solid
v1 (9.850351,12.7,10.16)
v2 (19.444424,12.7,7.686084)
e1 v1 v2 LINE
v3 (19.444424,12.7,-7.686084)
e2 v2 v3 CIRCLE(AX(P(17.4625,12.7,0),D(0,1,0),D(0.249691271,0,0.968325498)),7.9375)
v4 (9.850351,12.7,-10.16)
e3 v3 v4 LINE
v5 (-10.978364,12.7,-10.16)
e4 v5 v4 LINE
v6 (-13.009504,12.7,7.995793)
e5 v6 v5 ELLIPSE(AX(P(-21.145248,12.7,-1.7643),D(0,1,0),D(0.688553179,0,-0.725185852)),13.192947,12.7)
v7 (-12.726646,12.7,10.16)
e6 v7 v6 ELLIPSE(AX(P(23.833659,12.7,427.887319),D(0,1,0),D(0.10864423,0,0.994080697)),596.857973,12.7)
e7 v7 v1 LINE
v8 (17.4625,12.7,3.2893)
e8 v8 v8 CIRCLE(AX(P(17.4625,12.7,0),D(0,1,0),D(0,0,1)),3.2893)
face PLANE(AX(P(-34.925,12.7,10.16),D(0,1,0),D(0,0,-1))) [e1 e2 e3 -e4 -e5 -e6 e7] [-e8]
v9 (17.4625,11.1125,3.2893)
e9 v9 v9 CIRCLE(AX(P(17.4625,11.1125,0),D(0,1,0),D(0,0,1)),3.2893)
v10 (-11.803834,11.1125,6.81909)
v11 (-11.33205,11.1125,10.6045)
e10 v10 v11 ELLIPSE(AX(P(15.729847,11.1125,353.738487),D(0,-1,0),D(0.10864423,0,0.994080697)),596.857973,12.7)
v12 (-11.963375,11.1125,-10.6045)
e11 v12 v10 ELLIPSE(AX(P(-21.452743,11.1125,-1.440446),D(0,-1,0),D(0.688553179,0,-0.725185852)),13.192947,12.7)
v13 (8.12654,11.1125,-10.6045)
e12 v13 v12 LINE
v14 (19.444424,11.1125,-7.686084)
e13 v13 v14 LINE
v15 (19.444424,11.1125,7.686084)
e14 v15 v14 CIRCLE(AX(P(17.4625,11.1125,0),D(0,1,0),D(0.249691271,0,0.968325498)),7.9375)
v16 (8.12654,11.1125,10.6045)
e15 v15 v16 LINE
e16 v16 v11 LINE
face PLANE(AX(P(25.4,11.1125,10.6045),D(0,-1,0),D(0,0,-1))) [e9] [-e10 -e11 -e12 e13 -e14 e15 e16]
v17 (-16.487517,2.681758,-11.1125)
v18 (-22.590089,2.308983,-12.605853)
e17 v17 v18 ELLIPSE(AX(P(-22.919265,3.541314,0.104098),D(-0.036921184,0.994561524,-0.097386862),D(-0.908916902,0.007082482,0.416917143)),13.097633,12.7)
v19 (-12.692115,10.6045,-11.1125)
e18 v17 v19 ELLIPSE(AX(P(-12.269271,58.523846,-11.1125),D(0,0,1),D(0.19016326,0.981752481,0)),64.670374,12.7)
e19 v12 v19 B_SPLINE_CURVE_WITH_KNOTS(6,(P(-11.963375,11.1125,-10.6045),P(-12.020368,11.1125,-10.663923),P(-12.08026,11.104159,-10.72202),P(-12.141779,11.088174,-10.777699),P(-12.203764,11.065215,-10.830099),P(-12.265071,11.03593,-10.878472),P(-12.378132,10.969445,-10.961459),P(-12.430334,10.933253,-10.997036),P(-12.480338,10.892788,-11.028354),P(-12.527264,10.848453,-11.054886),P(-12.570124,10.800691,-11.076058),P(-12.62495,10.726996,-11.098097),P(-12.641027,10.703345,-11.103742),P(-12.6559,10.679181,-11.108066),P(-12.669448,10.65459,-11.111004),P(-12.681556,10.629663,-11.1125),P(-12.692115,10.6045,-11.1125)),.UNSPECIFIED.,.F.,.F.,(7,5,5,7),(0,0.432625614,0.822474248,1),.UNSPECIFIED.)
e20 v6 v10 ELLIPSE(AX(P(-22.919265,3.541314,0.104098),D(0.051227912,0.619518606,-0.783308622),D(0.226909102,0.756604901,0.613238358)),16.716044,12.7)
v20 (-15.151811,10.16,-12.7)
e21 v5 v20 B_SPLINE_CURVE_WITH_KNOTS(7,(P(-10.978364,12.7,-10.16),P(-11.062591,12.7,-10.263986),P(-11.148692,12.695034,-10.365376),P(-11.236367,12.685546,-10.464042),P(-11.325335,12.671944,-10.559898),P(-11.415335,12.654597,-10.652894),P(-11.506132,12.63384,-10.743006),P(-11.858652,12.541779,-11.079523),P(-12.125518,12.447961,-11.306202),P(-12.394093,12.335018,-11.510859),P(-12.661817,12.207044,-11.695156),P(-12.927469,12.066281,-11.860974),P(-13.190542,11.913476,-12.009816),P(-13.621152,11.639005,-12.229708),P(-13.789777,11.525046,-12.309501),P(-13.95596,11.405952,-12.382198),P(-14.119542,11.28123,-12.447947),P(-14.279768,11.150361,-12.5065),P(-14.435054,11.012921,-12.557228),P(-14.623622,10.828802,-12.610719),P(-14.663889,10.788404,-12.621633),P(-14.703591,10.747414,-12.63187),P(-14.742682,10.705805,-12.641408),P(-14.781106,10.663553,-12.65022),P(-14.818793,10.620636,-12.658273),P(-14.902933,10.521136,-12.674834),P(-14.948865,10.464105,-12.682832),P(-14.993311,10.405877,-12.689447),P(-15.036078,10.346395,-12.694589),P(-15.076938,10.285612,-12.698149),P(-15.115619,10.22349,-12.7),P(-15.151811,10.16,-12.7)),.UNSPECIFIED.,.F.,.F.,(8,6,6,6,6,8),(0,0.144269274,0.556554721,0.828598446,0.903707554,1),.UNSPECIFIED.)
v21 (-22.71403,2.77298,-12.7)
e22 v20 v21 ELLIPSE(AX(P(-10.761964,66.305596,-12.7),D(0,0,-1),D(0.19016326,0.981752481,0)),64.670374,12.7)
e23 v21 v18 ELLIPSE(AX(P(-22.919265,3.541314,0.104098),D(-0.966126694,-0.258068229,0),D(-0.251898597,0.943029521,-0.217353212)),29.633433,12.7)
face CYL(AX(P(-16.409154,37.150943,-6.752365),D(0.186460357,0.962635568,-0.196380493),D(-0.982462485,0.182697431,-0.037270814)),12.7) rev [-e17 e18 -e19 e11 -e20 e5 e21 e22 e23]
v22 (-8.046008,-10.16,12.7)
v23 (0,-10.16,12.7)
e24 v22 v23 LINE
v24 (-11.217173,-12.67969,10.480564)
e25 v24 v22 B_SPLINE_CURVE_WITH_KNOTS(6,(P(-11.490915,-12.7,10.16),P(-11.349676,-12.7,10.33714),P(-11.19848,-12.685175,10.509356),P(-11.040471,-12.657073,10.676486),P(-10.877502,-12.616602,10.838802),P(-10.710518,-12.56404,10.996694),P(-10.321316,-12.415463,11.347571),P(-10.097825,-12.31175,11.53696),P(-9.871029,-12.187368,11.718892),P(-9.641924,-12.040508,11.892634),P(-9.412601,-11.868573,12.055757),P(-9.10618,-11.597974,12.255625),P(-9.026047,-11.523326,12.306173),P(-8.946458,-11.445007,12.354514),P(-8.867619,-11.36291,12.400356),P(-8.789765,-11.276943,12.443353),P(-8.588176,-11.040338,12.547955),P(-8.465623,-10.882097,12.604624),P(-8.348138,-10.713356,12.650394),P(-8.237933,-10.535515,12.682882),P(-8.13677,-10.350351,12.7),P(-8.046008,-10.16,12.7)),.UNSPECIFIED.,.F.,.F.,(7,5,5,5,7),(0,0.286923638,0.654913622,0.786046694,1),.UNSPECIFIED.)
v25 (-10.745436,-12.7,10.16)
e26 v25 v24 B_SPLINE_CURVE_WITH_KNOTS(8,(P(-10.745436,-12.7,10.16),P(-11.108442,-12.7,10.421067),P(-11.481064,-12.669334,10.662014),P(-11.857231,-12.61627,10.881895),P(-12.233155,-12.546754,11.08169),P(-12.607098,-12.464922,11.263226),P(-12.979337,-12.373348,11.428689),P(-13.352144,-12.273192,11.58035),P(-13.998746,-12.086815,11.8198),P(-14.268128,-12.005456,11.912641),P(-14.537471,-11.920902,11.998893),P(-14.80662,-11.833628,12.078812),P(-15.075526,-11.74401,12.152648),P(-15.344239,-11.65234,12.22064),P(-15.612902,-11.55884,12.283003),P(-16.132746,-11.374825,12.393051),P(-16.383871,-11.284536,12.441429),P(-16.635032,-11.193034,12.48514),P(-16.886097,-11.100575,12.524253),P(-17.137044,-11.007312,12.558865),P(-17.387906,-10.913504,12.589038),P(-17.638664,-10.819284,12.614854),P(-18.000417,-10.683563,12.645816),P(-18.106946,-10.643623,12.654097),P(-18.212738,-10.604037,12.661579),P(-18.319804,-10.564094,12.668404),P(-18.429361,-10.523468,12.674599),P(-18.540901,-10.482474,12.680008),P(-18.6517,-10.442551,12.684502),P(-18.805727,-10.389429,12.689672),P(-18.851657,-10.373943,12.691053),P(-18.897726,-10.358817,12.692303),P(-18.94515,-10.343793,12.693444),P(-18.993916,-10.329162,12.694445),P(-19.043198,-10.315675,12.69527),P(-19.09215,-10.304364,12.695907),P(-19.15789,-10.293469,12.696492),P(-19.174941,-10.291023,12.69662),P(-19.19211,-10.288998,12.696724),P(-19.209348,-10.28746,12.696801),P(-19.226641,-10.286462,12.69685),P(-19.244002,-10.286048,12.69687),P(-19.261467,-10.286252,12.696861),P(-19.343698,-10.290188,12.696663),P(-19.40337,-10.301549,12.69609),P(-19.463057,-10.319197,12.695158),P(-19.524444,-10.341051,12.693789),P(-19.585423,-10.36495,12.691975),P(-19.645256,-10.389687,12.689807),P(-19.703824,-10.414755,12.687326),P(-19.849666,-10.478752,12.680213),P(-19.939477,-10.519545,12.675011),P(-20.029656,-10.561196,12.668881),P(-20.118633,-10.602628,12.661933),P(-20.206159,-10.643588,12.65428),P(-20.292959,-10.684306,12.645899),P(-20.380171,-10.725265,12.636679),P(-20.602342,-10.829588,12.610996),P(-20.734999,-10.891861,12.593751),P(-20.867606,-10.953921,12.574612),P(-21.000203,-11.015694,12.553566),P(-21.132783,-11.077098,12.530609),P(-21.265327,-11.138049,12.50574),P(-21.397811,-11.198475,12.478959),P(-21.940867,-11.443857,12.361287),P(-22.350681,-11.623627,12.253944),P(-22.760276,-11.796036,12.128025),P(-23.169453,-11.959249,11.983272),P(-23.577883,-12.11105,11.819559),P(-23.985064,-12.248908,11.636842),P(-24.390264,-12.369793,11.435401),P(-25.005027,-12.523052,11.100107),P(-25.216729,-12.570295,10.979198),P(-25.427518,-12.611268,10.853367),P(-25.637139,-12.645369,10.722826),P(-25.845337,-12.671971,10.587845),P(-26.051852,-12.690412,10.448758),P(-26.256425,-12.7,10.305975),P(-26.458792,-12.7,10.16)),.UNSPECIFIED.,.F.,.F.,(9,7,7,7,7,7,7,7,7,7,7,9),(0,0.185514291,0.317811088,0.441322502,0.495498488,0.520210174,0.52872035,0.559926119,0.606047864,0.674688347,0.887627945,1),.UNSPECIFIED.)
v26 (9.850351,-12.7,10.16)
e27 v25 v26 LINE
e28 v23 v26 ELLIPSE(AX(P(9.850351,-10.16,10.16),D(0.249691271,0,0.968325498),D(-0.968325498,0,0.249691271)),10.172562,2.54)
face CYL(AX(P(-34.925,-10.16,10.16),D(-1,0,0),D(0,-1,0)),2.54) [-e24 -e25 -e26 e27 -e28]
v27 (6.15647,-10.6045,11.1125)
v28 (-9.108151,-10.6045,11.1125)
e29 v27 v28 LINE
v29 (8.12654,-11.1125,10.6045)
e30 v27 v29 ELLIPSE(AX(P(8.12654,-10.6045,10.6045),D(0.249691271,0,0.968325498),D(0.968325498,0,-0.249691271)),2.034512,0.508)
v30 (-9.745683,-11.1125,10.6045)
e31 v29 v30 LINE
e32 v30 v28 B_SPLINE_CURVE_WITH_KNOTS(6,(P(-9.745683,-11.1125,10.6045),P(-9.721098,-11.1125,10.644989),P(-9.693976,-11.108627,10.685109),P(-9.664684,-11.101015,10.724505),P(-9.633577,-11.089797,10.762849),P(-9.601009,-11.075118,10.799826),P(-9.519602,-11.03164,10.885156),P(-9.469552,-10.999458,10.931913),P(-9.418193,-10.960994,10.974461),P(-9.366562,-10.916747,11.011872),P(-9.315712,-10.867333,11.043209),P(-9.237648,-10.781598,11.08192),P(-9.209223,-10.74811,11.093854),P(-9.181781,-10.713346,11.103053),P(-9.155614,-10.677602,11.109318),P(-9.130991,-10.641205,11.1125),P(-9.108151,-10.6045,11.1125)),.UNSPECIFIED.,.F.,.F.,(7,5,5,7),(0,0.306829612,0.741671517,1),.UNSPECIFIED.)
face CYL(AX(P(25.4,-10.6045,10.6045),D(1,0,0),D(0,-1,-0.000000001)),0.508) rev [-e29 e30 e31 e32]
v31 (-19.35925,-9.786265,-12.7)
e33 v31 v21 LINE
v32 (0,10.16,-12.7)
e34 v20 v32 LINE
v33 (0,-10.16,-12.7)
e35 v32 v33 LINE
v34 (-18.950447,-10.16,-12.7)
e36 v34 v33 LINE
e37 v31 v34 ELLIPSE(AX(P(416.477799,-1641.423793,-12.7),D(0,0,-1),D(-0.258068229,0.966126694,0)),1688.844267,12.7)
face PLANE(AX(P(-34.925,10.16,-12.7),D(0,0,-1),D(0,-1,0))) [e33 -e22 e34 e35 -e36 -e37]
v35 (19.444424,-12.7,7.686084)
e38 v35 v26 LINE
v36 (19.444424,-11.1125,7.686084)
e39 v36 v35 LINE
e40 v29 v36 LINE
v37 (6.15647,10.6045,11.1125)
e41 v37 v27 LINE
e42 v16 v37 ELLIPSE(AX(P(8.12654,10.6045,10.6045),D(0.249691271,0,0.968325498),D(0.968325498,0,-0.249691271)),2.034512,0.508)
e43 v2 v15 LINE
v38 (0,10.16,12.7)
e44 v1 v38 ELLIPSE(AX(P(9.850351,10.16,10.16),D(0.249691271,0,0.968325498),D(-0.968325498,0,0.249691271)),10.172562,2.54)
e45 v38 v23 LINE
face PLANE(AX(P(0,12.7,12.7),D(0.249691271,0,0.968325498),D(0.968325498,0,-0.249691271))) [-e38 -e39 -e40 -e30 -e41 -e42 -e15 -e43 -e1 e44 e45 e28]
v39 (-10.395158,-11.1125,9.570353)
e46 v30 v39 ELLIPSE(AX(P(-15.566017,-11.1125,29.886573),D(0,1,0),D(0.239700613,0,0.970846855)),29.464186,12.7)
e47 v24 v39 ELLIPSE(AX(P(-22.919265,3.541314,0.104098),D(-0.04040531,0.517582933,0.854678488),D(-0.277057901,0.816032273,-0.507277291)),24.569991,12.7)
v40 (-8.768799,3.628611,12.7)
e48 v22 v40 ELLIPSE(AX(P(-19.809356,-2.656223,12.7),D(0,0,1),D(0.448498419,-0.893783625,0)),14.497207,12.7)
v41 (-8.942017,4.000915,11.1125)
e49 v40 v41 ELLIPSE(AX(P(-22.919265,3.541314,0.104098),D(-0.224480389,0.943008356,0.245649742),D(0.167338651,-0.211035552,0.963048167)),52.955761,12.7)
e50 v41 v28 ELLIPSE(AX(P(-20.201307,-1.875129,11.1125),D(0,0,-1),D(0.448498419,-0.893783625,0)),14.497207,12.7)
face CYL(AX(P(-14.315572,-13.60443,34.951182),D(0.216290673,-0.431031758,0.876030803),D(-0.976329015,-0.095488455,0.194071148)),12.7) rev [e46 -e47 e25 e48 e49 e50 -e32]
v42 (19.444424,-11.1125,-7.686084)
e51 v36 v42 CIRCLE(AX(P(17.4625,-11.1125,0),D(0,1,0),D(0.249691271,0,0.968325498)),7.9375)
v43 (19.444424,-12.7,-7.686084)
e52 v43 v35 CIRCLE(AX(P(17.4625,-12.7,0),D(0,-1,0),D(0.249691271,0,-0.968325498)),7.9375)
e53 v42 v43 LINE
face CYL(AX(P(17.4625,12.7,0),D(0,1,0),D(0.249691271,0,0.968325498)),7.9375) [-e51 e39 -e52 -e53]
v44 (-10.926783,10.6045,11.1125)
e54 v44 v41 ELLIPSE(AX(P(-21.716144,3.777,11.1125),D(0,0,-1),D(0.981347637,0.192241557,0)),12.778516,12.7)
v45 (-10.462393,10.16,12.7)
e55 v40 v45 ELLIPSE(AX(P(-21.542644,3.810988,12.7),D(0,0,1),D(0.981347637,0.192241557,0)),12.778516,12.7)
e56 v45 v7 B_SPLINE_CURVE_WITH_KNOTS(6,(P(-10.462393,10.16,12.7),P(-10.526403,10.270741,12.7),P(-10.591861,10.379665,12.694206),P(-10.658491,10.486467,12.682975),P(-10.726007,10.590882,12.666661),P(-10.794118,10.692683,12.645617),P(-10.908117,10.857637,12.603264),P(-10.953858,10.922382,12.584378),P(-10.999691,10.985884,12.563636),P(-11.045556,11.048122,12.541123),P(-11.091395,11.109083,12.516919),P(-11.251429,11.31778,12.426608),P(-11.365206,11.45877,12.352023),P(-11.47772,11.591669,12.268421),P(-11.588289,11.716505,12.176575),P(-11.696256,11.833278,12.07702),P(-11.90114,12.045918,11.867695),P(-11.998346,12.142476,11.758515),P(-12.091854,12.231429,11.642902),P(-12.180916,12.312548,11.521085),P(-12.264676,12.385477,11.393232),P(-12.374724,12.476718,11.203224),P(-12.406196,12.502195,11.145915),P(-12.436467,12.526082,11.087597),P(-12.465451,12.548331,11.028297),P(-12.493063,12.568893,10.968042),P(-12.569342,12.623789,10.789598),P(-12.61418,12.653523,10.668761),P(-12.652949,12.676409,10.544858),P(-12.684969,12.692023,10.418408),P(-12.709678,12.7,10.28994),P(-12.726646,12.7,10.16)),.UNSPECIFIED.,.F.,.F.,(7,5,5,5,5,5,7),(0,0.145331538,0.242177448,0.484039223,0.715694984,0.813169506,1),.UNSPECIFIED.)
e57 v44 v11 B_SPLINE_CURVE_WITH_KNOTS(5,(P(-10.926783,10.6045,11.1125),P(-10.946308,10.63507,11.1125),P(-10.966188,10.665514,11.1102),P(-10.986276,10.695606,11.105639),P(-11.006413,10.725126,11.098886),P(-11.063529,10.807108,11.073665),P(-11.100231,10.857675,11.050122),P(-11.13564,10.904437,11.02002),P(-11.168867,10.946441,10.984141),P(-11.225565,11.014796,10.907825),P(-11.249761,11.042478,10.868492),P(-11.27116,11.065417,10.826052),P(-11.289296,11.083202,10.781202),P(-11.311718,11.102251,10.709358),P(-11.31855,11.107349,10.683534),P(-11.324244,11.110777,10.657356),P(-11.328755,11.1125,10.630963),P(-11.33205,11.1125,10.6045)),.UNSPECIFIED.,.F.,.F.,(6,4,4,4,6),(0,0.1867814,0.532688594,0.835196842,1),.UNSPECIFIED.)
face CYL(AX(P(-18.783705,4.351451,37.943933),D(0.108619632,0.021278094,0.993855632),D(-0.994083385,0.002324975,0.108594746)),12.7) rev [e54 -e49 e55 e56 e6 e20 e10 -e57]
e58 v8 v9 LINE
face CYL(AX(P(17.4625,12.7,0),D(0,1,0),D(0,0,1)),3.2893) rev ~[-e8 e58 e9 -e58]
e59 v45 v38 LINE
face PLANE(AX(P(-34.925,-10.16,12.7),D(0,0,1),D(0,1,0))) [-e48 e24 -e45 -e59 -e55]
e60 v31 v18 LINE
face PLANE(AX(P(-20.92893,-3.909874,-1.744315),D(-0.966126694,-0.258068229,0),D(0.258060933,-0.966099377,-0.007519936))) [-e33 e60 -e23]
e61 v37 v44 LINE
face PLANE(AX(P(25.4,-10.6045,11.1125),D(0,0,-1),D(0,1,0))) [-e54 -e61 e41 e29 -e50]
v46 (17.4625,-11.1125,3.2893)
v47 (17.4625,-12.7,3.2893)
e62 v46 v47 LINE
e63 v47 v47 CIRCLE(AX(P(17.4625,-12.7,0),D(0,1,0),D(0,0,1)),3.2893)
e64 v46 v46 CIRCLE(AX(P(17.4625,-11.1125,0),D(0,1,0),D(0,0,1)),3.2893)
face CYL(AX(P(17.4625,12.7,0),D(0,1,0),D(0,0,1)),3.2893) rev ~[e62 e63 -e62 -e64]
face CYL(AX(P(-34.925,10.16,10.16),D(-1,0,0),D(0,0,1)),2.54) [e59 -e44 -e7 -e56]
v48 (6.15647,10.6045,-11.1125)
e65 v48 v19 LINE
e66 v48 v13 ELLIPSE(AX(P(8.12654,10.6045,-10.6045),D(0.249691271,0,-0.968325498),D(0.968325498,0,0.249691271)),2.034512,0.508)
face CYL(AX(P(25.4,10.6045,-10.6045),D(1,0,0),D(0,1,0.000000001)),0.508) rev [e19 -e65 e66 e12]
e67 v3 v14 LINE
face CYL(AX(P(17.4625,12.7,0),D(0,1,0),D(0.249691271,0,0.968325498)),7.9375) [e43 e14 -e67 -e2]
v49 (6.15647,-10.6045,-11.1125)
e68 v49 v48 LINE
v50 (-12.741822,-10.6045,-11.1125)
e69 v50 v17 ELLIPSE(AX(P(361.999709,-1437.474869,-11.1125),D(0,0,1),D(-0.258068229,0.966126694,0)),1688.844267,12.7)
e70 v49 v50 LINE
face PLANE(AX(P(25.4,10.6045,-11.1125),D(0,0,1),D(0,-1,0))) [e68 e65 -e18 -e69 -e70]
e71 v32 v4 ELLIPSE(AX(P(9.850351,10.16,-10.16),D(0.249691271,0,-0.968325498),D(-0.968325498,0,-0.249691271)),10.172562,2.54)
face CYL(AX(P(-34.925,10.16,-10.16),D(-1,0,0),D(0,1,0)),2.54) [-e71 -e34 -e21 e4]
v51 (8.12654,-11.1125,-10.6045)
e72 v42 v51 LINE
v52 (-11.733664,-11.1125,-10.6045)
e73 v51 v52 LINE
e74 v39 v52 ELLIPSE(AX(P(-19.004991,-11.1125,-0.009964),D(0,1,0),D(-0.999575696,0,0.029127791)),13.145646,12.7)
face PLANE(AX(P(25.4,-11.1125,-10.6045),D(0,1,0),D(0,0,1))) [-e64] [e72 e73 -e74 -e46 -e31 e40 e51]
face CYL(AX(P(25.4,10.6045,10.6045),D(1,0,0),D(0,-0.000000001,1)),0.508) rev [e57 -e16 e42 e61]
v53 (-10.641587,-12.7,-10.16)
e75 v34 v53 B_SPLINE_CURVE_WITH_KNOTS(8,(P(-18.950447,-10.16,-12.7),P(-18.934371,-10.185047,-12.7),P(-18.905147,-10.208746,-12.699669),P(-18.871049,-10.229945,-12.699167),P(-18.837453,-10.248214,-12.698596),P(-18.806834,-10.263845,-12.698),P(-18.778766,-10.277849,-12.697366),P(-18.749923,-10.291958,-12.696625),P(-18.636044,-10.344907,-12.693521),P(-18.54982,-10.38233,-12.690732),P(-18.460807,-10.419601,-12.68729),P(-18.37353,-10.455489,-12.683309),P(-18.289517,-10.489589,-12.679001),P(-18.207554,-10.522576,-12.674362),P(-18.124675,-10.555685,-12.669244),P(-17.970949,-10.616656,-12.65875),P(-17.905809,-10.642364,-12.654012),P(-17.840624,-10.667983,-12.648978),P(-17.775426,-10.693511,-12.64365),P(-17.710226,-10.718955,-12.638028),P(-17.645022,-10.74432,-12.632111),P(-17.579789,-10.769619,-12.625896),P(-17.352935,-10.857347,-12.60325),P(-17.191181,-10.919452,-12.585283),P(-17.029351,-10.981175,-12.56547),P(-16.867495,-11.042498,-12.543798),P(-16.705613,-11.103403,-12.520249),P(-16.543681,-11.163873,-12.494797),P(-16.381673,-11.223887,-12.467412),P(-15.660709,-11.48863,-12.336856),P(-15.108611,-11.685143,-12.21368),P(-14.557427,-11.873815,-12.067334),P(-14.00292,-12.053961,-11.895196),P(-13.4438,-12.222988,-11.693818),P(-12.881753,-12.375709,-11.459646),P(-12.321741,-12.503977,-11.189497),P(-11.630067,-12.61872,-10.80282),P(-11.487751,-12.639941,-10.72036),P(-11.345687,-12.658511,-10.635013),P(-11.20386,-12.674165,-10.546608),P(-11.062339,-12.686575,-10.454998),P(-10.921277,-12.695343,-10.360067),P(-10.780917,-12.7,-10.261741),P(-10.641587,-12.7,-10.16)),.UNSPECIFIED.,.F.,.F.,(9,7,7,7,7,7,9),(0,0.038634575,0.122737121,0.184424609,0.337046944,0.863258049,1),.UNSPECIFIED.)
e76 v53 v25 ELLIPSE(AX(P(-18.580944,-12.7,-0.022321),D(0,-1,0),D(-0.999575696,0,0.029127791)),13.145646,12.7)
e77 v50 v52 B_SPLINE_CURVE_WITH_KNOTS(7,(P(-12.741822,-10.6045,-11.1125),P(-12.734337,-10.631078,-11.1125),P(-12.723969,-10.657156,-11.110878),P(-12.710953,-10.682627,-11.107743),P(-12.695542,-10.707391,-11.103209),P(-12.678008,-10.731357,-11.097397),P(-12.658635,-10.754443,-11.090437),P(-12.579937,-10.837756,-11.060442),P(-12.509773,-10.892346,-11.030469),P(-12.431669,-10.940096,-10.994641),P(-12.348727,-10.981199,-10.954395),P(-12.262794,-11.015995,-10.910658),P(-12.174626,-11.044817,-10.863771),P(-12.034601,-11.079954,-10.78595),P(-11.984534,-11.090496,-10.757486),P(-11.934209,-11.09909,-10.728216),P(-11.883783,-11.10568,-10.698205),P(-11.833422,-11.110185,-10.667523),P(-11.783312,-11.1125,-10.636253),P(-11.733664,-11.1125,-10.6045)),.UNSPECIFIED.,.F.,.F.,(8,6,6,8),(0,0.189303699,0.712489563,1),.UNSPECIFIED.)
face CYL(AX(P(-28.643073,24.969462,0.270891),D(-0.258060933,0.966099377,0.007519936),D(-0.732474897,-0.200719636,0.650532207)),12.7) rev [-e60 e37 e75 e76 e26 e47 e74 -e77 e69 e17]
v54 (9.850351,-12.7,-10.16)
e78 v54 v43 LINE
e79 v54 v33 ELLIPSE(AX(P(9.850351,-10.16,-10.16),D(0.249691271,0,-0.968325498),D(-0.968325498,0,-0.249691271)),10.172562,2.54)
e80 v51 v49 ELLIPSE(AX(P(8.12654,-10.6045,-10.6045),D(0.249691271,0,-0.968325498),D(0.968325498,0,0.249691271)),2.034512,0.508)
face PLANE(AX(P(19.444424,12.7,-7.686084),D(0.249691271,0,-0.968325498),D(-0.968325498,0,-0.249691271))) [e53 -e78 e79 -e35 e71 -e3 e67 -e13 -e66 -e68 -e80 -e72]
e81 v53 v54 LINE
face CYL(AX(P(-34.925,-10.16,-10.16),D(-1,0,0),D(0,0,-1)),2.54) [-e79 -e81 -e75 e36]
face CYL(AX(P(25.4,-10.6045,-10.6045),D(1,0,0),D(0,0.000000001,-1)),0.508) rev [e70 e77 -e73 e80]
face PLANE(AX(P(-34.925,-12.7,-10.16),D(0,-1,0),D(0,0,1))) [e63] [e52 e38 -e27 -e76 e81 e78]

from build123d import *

# Parameters (mm, degrees)
BOSS_EXTRUDE1_DEPTH      = 25.4
BOSS_EXTRUDE1_DEPTH_BACK = 34.925
CUT_EXTRUDE4_DEPTH       = 63.941922635
CUT_EXTRUDE5_DEPTH       = 46.01339384
SKETCH14_R               = 3.2893
CUT_EXTRUDE6_DEPTH       = 46.01339384
CUT_EXTRUDE7_DEPTH       = 76.2
CUT_EXTRUDE7_DEPTH_BACK  = 12.7
SKETCH15_R               = 12.7
CUT_EXTRUDE8_DEPTH       = 10.668
CUT_EXTRUDE8_DEPTH_BACK  = 25.4
SKETCH16_R               = 12.7
CUT_EXTRUDE9_DEPTH       = 13.462
CUT_EXTRUDE9_DEPTH_BACK  = 25.4
SKETCH17_R               = 12.7
CUT_EXTRUDE10_DEPTH      = 11.43
CUT_EXTRUDE10_DEPTH_BACK = 25.4
SKETCH18_R               = 12.7
CUT_EXTRUDE11_DEPTH      = 10.668
CUT_EXTRUDE11_DEPTH_BACK = 25.4
SKETCH19_R               = 12.7
SKETCH20_W               = 46.918980947
SKETCH20_H               = 36.132247669
CUT_EXTRUDE12_DEPTH      = 51.98499249


with BuildPart() as part:
    # Sketch1 → Boss-Extrude1 (new, two sides: drawn at the far end of the back side and taken through both)
    with BuildSketch(Plane(origin=(0, 0, 0), x_dir=(0, 0, -1), z_dir=(1, 0, 0)).offset(-BOSS_EXTRUDE1_DEPTH_BACK)):
        with BuildLine():
            Line((-10.16, 12.7), (10.16, 12.7))
            ThreePointArc((10.16, 12.7), (11.956051224, 11.956051224), (12.7, 10.16))
            Line((12.7, 10.16), (12.7, -10.16))
            ThreePointArc((12.7, -10.16), (11.956051224, -11.956051224), (10.16, -12.7))
            Line((10.16, -12.7), (-10.16, -12.7))
            ThreePointArc((-10.16, -12.7), (-11.956051224, -11.956051224), (-12.7, -10.16))
            Line((-12.7, -10.16), (-12.7, 10.16))
            ThreePointArc((-12.7, 10.16), (-11.956051224, 11.956051224), (-10.16, 12.7))
        make_face()
    extrude(amount=BOSS_EXTRUDE1_DEPTH + BOSS_EXTRUDE1_DEPTH_BACK)

    # Sketch11 → Cut-Extrude4 (cut, through all)
    with BuildSketch(Plane(origin=(25.4, 0, 0), x_dir=(0, 0, -1), z_dir=(1, 0, 0))):
        with BuildLine():
            Line((-10.6045, 11.1125), (10.6045, 11.1125))
            ThreePointArc((10.6045, 11.1125), (10.963710245, 10.963710245), (11.1125, 10.6045))
            Line((11.1125, 10.6045), (11.1125, -10.6045))
            ThreePointArc((11.1125, -10.6045), (10.963710245, -10.963710245), (10.6045, -11.1125))
            Line((10.6045, -11.1125), (-10.6045, -11.1125))
            ThreePointArc((-10.6045, -11.1125), (-10.963710245, -10.963710245), (-11.1125, -10.6045))
            Line((-11.1125, -10.6045), (-11.1125, 10.6045))
            ThreePointArc((-11.1125, 10.6045), (-10.963710245, 10.963710245), (-10.6045, 11.1125))
        make_face()
    extrude(amount=-CUT_EXTRUDE4_DEPTH, mode=Mode.SUBTRACT)

    # Sketch12 → Cut-Extrude5 (cut, through all)
    with BuildSketch(Plane(origin=(0, 12.7, 0), x_dir=(1, 0, 0), z_dir=(0, 1, 0))):
        with BuildLine():
            Line((50.8, 12.7), (0, 12.7))
            Line((0, 12.7), (19.444424463, 7.686083637))
            ThreePointArc((19.444424463, 7.686083637), (25.4, 0), (19.444424463, -7.686083637))
            Line((19.444424463, -7.686083637), (0, -12.7))
            Line((0, -12.7), (50.8, -12.7))
            Line((50.8, -12.7), (50.8, 12.7))
        make_face()
    extrude(amount=-CUT_EXTRUDE5_DEPTH, mode=Mode.SUBTRACT)

    # Sketch14 → Cut-Extrude6 (cut, through all)
    with BuildSketch(Plane(origin=(0, 12.7, 0), x_dir=(1, 0, 0), z_dir=(0, 1, 0))):
        with Locations((17.4625, 0)):
            Circle(SKETCH14_R)
    extrude(amount=-CUT_EXTRUDE6_DEPTH, mode=Mode.SUBTRACT)

    # Sketch15 → Cut-Extrude7 (cut, two sides: drawn at the far end of the back side and taken through both)
    with BuildSketch(Plane(origin=(-25.365699209, 12.7, 0.175387953), x_dir=(-0.966128643141705, -0.2580531152287385, -0.0020086368292109116), z_dir=(0.258060932535648, -0.9660993767043435, -0.007519935525699624)).offset(-CUT_EXTRUDE7_DEPTH_BACK)):
        Circle(SKETCH15_R)
    extrude(amount=CUT_EXTRUDE7_DEPTH + CUT_EXTRUDE7_DEPTH_BACK, mode=Mode.SUBTRACT)

    # Sketch16 → Cut-Extrude8 (cut, two sides: drawn at the far end of the back side and taken through both)
    with BuildSketch(Plane(origin=(-21.145247559, 12.7, -1.764300444), x_dir=(-0.9824624854144782, 0.18269743061253008, -0.03727081432952601), z_dir=(-0.18646035705534364, -0.9626355681875568, 0.1963804931937318)).offset(-CUT_EXTRUDE8_DEPTH_BACK)):
        Circle(SKETCH16_R)
    extrude(amount=CUT_EXTRUDE8_DEPTH + CUT_EXTRUDE8_DEPTH_BACK, mode=Mode.SUBTRACT)

    # Sketch17 → Cut-Extrude9 (cut, two sides: drawn at the far end of the back side and taken through both)
    with BuildSketch(Plane(origin=(-34.925, 0.334385976, 0.104098467), x_dir=(0, 0, -1), z_dir=(0.9661266940476223, 0.2580682294444866, 0)).offset(-CUT_EXTRUDE9_DEPTH_BACK)):
        Circle(SKETCH17_R)
    extrude(amount=CUT_EXTRUDE9_DEPTH + CUT_EXTRUDE9_DEPTH_BACK, mode=Mode.SUBTRACT)


with BuildPart() as body_2:
    # of the pieces the cut leaves, the one that is kept (cut_extrude9_keep)
    add(part.part.solids().sort_by_distance((-34.925, -12.7, 10.16))[0])

    # Sketch18 → Cut-Extrude10 (cut, two sides: drawn at the far end of the back side and taken through both)
    with BuildSketch(Plane(origin=(-21.542643879, 3.81098788, 12.7), x_dir=(-0.9940833845942291, 0.0023249747136513278, 0.10859474649476883), z_dir=(-0.1086196320822448, -0.021278093914850475, -0.9938556324968274)).offset(-CUT_EXTRUDE10_DEPTH_BACK)):
        Circle(SKETCH18_R)
    extrude(amount=CUT_EXTRUDE10_DEPTH + CUT_EXTRUDE10_DEPTH_BACK, mode=Mode.SUBTRACT)

    # Sketch19 → Cut-Extrude11 (cut, two sides: drawn at the far end of the back side and taken through both)
    with BuildSketch(Plane(origin=(-19.809355594, -2.656223175, 12.7), x_dir=(-0.9763290145154151, -0.09548845507502762, 0.19407114768234568), z_dir=(-0.2162906734359075, 0.43103175814294675, -0.8760308031438403)).offset(-CUT_EXTRUDE11_DEPTH_BACK)):
        Circle(SKETCH19_R)
    extrude(amount=CUT_EXTRUDE11_DEPTH + CUT_EXTRUDE11_DEPTH_BACK, mode=Mode.SUBTRACT)

    # Sketch20 → Cut-Extrude12 (cut, through all)
    with BuildSketch(Plane(origin=(-20.509915766, -5.478533696, 0), x_dir=(0.2580609325356479, -0.9660993767043435, -0.007519935525699628), z_dir=(-0.9661266940476223, -0.25806822944448654, 0))):
        with Locations((-1.610495454, -1.756475899)):
            Rectangle(SKETCH20_W, SKETCH20_H)
    extrude(amount=CUT_EXTRUDE12_DEPTH, mode=Mode.SUBTRACT)


solid = body_2.part
